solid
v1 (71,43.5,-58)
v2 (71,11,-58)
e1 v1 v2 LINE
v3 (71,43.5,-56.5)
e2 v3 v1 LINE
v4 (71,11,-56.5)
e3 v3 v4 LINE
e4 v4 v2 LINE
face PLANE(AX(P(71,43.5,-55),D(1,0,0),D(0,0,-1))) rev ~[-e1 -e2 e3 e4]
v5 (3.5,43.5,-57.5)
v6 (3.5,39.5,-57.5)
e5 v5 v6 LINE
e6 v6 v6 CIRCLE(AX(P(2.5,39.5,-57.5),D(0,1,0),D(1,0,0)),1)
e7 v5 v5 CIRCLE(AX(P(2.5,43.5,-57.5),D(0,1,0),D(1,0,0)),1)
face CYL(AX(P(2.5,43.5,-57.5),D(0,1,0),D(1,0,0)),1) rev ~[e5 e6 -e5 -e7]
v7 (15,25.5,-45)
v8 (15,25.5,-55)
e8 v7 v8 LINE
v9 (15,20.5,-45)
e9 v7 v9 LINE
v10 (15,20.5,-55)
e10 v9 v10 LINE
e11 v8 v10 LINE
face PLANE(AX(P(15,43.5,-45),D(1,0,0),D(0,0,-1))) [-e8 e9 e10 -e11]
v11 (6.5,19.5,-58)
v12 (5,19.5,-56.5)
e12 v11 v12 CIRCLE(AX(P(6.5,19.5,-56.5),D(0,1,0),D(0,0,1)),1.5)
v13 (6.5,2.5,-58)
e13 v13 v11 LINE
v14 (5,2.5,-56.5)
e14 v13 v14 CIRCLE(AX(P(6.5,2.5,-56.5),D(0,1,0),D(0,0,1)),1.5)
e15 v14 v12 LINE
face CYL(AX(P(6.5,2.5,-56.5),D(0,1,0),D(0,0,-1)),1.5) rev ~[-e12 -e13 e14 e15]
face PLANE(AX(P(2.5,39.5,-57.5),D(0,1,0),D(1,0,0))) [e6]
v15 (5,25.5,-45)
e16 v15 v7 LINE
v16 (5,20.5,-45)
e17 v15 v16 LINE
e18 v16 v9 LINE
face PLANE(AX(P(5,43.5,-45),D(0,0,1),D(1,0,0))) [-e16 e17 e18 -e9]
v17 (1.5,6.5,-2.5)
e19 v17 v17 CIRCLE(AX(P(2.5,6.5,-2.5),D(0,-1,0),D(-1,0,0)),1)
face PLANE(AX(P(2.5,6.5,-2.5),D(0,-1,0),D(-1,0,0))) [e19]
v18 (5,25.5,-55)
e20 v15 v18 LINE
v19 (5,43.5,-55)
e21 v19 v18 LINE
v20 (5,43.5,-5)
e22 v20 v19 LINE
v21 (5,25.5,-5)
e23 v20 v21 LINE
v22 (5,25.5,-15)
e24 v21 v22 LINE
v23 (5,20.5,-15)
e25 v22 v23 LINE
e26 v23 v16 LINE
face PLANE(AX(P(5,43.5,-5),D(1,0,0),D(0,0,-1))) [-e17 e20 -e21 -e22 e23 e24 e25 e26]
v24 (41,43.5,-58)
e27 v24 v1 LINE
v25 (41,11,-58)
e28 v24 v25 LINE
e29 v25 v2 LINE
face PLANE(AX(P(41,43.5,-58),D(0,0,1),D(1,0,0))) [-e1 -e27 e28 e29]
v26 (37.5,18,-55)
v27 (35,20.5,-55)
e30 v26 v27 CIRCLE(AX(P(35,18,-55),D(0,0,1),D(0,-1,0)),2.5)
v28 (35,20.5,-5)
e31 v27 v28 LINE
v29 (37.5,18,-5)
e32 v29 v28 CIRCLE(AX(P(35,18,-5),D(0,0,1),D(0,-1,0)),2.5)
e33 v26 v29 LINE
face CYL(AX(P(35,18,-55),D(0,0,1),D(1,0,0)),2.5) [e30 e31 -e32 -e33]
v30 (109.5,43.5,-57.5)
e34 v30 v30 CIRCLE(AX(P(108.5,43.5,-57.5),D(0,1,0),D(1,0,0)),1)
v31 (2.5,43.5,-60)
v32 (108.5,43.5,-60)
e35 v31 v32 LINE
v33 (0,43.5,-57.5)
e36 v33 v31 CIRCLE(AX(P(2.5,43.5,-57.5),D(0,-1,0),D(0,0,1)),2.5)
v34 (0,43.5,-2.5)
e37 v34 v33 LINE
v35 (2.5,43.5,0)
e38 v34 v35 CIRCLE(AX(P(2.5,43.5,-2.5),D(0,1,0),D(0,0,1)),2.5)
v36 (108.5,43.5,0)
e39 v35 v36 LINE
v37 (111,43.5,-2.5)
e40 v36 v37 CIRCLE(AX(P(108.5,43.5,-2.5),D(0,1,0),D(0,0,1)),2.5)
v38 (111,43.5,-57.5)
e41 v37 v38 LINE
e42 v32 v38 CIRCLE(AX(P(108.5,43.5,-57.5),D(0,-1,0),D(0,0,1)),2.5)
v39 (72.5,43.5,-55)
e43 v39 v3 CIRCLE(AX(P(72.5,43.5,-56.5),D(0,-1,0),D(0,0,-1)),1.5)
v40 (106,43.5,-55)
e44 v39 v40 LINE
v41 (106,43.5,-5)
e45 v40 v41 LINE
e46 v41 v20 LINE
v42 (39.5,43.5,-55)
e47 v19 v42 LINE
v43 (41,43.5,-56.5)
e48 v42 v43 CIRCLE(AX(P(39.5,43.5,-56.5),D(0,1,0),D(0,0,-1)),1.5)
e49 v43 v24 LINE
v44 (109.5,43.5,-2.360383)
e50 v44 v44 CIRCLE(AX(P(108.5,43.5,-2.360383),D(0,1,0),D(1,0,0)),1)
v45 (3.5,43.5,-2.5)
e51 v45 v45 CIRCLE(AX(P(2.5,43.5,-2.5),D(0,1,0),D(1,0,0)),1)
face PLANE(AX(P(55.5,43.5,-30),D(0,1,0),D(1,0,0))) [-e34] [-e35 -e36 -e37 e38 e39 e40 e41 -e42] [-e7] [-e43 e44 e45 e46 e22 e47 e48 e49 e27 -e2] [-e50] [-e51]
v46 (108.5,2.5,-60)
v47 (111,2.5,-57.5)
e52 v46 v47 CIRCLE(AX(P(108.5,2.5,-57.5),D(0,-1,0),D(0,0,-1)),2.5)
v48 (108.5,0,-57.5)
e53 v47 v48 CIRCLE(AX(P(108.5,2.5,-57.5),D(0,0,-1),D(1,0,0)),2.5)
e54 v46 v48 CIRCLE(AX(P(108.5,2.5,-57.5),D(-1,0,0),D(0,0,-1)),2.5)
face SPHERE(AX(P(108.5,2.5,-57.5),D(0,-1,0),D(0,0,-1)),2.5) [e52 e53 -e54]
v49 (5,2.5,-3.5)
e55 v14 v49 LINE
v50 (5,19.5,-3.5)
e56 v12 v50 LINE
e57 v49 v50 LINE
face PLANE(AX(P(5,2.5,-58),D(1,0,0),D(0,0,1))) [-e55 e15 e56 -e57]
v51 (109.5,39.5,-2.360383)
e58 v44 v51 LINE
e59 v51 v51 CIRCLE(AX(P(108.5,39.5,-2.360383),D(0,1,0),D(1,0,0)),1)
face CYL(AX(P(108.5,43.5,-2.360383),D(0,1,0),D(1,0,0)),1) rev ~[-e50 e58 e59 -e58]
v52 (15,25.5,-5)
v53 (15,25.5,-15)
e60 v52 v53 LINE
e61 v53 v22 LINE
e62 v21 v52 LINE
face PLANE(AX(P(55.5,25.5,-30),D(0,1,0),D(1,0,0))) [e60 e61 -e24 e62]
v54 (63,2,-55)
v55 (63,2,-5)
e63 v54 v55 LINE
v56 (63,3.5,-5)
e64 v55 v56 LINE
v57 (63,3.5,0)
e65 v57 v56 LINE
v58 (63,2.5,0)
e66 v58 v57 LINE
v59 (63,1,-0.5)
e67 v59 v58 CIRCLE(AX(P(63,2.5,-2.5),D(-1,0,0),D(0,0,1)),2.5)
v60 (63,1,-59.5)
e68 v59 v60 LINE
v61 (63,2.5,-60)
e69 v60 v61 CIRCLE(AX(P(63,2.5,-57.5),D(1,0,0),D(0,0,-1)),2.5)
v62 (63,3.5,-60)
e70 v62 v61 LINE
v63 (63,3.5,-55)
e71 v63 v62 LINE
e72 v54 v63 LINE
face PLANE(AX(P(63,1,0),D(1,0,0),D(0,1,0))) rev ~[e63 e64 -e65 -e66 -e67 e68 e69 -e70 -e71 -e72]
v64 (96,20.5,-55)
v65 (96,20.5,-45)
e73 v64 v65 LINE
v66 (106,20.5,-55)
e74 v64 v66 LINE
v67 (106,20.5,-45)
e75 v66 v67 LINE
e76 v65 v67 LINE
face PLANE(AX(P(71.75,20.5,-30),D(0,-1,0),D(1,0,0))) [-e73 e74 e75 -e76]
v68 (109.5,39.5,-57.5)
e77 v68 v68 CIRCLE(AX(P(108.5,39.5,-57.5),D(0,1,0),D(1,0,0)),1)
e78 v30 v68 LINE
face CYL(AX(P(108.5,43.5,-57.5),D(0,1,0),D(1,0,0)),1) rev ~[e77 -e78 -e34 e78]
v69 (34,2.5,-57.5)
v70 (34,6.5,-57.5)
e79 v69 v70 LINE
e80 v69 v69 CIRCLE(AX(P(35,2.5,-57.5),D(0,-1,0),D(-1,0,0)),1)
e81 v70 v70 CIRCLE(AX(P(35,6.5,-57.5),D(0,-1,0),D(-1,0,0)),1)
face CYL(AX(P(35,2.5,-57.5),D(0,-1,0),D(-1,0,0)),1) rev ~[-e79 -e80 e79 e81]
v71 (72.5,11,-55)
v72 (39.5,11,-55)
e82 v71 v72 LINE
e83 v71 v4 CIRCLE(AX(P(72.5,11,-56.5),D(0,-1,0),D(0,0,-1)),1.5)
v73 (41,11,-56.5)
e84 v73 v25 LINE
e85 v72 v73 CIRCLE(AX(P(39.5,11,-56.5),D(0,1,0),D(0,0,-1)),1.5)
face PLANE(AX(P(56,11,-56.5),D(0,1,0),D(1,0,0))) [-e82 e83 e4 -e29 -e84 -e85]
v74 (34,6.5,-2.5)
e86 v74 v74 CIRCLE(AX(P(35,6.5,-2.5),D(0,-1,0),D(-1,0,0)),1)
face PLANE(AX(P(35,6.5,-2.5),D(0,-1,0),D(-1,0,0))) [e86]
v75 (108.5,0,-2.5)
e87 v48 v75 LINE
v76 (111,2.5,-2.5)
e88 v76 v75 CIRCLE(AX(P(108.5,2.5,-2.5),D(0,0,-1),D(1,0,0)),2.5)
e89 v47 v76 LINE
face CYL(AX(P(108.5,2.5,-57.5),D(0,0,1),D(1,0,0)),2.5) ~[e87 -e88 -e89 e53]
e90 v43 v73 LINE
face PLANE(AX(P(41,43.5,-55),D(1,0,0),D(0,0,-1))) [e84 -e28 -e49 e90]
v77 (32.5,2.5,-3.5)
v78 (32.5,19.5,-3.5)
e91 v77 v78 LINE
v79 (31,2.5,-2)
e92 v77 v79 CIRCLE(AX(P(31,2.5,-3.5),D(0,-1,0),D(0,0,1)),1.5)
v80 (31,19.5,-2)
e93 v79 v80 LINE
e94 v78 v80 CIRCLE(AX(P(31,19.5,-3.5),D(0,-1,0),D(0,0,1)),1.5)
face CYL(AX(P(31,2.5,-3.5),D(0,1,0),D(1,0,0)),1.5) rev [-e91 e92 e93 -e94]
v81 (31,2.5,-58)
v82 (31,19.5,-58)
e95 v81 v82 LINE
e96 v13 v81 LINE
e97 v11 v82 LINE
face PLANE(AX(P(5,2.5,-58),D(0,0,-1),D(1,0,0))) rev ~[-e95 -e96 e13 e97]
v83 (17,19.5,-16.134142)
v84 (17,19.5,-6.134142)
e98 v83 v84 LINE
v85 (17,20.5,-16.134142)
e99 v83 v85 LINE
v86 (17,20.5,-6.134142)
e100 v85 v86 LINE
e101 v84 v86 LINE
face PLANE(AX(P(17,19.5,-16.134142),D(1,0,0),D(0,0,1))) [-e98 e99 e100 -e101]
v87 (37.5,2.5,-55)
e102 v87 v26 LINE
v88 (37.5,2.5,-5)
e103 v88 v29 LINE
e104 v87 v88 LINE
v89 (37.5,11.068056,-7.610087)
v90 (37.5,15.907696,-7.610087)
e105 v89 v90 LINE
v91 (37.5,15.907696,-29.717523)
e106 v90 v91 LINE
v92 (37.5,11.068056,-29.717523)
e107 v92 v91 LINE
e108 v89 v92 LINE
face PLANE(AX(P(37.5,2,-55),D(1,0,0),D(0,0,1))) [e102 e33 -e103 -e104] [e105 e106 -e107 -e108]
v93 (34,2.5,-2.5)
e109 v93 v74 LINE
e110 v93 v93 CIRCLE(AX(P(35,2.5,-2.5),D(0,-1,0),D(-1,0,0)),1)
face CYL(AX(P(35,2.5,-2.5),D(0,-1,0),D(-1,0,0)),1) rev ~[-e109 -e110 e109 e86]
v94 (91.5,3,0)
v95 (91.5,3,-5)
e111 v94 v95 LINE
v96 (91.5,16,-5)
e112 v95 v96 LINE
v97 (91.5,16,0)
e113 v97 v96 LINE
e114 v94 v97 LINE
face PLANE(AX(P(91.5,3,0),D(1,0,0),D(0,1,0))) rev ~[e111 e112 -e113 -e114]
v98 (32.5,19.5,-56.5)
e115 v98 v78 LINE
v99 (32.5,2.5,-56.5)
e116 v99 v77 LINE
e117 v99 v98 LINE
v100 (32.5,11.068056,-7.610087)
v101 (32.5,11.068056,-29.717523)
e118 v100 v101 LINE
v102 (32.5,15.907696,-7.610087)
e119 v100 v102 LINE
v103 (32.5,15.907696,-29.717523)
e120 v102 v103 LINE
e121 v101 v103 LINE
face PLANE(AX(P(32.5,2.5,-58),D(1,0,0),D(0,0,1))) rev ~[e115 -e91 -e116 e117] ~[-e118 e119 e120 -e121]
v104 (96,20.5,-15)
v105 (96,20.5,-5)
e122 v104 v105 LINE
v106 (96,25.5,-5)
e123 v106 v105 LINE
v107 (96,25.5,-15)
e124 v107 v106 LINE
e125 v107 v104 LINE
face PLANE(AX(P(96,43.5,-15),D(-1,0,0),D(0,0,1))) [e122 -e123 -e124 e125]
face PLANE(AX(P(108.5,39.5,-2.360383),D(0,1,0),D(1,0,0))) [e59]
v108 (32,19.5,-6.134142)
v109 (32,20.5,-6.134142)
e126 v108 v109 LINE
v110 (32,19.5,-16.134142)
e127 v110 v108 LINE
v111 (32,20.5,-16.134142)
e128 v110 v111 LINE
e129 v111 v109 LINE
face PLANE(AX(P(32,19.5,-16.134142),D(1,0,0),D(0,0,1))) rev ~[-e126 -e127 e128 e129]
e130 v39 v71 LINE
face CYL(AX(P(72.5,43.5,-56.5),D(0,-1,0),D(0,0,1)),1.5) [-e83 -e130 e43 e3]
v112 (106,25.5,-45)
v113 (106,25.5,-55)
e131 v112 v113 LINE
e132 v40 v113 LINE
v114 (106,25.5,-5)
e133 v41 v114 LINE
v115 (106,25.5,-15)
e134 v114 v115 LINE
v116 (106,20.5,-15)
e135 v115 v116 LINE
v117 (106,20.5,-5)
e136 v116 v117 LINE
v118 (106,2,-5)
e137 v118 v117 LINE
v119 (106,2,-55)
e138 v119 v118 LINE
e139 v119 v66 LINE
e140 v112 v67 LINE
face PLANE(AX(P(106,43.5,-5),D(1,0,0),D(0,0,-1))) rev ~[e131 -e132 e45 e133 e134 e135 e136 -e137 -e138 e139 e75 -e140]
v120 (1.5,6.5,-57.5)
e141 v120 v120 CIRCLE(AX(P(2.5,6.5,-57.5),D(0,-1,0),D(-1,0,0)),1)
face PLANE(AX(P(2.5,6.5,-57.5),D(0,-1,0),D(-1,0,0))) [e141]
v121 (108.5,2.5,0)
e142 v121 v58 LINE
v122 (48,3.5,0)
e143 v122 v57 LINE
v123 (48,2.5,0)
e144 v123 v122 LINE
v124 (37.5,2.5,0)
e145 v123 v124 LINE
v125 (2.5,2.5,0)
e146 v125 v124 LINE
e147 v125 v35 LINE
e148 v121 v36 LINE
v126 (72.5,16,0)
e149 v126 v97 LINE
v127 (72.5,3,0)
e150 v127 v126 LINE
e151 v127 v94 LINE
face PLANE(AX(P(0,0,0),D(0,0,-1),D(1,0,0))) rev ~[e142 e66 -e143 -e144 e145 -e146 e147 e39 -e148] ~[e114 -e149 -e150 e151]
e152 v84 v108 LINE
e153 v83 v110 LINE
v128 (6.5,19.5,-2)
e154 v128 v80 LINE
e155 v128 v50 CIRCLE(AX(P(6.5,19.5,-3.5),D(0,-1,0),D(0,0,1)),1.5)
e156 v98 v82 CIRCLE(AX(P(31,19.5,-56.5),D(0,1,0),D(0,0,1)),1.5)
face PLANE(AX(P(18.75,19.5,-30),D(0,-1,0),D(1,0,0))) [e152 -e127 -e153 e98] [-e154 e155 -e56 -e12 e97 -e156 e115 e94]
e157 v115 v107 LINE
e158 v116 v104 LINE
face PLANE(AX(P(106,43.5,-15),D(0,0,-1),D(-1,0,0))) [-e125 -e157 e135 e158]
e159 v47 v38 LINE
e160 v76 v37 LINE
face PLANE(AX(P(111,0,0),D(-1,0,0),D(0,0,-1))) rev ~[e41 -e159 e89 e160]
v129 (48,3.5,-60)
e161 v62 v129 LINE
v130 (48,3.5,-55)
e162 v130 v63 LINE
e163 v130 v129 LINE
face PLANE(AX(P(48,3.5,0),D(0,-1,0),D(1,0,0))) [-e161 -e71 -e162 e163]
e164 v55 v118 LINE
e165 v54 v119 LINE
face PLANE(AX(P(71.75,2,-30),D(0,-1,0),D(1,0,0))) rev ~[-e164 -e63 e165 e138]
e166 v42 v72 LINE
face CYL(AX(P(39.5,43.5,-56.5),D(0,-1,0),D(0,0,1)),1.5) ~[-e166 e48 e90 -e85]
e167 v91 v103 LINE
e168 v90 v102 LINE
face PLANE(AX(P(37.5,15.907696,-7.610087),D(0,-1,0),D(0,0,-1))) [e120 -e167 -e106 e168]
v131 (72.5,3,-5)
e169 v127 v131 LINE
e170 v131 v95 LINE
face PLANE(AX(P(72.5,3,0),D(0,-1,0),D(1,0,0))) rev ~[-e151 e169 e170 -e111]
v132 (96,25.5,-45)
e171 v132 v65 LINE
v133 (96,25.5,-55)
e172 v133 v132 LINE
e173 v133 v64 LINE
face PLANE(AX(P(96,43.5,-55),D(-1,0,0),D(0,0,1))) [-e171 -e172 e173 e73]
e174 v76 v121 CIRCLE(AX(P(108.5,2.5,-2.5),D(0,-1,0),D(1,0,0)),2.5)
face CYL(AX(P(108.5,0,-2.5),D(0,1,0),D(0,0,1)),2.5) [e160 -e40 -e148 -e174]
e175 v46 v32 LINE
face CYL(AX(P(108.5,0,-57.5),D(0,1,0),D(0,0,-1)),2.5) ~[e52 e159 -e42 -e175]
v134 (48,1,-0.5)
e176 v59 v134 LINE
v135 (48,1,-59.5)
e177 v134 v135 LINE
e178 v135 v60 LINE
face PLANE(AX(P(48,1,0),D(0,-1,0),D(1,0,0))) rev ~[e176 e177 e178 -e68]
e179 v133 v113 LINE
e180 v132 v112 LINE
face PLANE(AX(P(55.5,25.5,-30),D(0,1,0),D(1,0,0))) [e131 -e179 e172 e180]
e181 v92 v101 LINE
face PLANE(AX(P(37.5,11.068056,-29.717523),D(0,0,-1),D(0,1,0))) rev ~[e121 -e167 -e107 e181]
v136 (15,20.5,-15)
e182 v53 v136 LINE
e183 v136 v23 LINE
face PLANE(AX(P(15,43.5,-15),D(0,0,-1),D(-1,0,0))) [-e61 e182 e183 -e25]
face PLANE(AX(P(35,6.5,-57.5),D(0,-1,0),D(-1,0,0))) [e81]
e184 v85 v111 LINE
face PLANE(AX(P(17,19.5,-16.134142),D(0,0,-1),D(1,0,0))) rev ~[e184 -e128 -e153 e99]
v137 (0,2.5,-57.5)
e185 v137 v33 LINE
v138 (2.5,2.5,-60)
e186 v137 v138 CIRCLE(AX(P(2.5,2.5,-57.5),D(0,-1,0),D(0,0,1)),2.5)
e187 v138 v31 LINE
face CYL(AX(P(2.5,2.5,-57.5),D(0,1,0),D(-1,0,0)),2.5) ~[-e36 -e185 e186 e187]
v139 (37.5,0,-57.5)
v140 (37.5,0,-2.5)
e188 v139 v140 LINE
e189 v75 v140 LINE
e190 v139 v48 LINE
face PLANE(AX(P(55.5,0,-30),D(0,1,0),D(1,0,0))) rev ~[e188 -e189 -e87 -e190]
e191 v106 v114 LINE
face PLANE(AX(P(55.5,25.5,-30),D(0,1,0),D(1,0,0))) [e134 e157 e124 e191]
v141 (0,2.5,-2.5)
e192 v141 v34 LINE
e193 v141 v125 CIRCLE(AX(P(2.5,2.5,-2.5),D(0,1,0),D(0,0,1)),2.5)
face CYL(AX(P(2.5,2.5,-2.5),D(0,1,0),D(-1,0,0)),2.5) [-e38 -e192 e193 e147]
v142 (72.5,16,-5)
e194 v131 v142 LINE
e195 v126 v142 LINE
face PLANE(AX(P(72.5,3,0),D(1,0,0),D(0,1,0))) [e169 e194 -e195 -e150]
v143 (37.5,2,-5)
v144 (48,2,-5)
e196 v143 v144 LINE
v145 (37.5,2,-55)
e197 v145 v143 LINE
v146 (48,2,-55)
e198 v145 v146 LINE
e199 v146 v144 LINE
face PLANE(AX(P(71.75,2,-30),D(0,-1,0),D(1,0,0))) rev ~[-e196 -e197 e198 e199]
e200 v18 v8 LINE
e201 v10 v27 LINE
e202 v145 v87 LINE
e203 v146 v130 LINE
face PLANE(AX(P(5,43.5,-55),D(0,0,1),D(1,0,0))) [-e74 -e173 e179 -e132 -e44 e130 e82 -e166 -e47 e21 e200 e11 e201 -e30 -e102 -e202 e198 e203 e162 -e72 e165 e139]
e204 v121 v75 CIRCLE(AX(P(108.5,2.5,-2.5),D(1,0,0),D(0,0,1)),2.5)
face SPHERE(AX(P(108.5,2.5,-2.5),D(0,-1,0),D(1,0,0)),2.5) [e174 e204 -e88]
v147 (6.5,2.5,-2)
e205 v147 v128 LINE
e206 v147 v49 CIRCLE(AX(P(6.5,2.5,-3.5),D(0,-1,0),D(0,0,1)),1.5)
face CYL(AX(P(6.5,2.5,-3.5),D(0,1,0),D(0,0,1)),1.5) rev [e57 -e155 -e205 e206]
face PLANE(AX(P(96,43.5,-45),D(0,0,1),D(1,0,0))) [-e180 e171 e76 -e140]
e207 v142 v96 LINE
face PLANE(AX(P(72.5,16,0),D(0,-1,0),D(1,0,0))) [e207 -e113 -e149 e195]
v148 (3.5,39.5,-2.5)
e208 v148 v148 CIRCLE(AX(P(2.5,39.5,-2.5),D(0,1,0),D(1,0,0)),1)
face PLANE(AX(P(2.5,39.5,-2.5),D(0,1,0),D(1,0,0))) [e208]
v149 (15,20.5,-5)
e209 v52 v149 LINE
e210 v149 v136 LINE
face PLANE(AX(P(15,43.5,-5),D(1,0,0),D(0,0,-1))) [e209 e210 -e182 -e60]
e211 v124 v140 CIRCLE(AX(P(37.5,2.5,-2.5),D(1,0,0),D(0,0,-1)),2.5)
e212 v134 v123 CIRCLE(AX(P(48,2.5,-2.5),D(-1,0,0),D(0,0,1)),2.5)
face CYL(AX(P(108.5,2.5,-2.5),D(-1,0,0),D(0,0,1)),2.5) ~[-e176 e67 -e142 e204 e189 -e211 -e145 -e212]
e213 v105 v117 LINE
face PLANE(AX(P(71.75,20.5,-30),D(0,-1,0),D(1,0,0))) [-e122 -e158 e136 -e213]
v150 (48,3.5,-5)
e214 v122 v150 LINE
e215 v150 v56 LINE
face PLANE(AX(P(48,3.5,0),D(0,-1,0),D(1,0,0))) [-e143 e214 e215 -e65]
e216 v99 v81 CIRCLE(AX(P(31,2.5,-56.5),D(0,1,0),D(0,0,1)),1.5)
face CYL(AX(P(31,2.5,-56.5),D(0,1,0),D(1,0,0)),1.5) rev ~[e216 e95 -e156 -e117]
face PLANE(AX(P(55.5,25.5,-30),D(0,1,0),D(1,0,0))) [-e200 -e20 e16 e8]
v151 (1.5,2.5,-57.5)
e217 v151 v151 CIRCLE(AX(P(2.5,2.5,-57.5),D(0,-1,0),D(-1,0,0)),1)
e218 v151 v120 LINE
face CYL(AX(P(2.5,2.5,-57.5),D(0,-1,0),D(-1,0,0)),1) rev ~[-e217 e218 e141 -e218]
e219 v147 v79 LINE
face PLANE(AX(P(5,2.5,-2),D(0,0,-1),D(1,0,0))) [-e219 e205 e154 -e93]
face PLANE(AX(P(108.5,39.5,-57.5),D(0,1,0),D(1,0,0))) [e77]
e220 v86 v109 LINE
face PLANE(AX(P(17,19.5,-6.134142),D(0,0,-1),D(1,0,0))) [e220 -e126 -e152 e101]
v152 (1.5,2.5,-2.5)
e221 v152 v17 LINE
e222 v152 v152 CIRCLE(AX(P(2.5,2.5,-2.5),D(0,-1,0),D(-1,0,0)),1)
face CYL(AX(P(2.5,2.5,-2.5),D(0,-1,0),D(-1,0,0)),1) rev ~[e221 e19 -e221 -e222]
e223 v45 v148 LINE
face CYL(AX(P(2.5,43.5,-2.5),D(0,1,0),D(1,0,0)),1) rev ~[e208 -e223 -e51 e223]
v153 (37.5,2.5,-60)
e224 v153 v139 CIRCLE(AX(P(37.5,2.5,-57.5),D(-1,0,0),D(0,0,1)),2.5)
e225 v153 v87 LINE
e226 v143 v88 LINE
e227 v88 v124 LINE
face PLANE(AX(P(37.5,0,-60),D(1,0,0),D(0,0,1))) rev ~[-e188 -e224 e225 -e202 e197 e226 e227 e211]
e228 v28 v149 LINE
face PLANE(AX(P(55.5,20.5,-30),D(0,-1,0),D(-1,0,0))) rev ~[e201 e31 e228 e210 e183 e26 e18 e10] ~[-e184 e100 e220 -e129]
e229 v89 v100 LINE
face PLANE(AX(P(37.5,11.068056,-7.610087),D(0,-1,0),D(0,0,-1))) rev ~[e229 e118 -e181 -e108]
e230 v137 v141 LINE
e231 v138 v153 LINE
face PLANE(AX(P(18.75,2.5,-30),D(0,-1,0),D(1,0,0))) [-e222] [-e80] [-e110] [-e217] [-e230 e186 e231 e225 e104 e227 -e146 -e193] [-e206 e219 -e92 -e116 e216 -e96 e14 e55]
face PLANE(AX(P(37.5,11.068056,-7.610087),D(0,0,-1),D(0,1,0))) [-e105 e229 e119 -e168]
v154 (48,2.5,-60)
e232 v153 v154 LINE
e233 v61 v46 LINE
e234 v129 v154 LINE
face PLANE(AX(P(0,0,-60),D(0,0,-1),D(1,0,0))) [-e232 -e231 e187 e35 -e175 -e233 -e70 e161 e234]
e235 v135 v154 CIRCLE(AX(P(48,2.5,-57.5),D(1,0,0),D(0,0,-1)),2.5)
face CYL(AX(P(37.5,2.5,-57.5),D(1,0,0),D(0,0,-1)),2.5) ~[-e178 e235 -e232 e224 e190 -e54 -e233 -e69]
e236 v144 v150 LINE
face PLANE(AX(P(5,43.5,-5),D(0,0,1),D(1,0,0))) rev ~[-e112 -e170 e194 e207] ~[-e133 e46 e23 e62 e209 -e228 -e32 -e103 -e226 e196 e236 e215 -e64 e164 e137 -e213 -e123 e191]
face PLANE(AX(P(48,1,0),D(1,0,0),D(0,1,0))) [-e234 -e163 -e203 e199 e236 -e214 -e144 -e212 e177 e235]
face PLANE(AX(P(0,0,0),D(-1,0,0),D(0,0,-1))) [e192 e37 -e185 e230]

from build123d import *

# Parameters (mm, degrees)
SKETCH1_W           = 111
SKETCH1_H           = 60
BOSS_EXTRUDE1_DEPTH = 43.5
SKETCH2_W           = 101
SKETCH2_H           = 50
CUT_EXTRUDE1_DEPTH  = 18
CUT_EXTRUDE3_DEPTH  = 23
CUT_EXTRUDE5_START  = -2
SKETCH5_W           = 68.5
SKETCH5_H           = 50
CUT_EXTRUDE5_DEPTH  = 18.5
SKETCH6_W           = 37.5
SKETCH6_H           = 60
CUT_EXTRUDE6_DEPTH  = 2.5
SKETCH7_R           = 1
CUT_EXTRUDE7_DEPTH  = 4
SKETCH8_R           = 1
CUT_EXTRUDE8_DEPTH  = 4
SKETCH9_W           = 19
SKETCH9_H           = 13
CUT_EXTRUDE9_DEPTH  = 10
SKETCH12_W          = 30
SKETCH12_H          = 3
CUT_EXTRUDE12_DEPTH = 32.5
FILLET2_R           = 2.5
FILLET3_R           = 2.5
FILLET4_R           = 2.5
FILLET5_R           = 2.5
FILLET6_R           = 2.5
SKETCH13_W          = 27.5
SKETCH13_H          = 56
CUT_EXTRUDE13_DEPTH = 17
SKETCH14_W          = 15
SKETCH14_H          = 10
CUT_EXTRUDE14_DEPTH = 25
FILLET7_R           = 1.5
FILLET8_R           = 1.5
FILLET9_R           = 1.5
FILLET10_R          = 1.5
FILLET11_R          = 2.5
FILLET12_R          = 1.5
SKETCH15_W          = 22.107435613
SKETCH15_H          = 4.839639835
CUT_EXTRUDE15_DEPTH = 10
SKETCH16_W          = 15
SKETCH16_H          = 2.5
CUT_EXTRUDE16_DEPTH = 61


with BuildPart() as part:
    # Sketch1 → Boss-Extrude1 (new body)
    with BuildSketch(Plane(origin=(0, 0, 0), x_dir=(1, 0, 0), z_dir=(0, 1, 0))):
        with Locations((55.5, 30)):
            Rectangle(SKETCH1_W, SKETCH1_H)
    extrude(amount=BOSS_EXTRUDE1_DEPTH)

    # Sketch2 → Cut-Extrude1 (cut)
    with BuildSketch(Plane(origin=(0, 43.5, 0), x_dir=(1, 0, 0), z_dir=(0, 1, 0))):
        with Locations((55.5, 30)):
            Rectangle(SKETCH2_W, SKETCH2_H)
    extrude(amount=-CUT_EXTRUDE1_DEPTH, mode=Mode.SUBTRACT)

    # Sketch3 → Cut-Extrude3 (cut)
    with BuildSketch(Plane(origin=(0, 43.5, 0), x_dir=(1, 0, 0), z_dir=(0, 1, 0))):
        Polygon((5, 45), (15, 45), (15, 55), (96, 55), (96, 45), (106, 45), (106, 15), (96, 15), (96, 5), (15, 5), (15, 15), (5, 15), align=None)
    extrude(amount=-CUT_EXTRUDE3_DEPTH, mode=Mode.SUBTRACT)

    # Sketch5 → Cut-Extrude5 (cut)
    with BuildSketch(Plane.XZ.offset(CUT_EXTRUDE5_START)):
        with Locations((71.75, -30)):
            Rectangle(SKETCH5_W, SKETCH5_H)
    extrude(amount=-CUT_EXTRUDE5_DEPTH, mode=Mode.SUBTRACT)

    # Sketch6 → Cut-Extrude6 (cut)
    with BuildSketch(Plane.XZ):
        with Locations((18.75, -30)):
            Rectangle(SKETCH6_W, SKETCH6_H)
    extrude(amount=-CUT_EXTRUDE6_DEPTH, mode=Mode.SUBTRACT)

    # Sketch7 → Cut-Extrude7 (cut)
    with BuildSketch(Plane(origin=(0, 2.5, 0), x_dir=(-1, 0, 0), z_dir=(0, -1, 0))):
        with Locations((-2.5, 57.5)):
            Circle(SKETCH7_R)
        with Locations((-35, 57.5)):
            Circle(SKETCH7_R)
        with Locations((-35, 2.5)):
            Circle(SKETCH7_R)
        with Locations((-2.5, 2.5)):
            Circle(SKETCH7_R)
    extrude(amount=-CUT_EXTRUDE7_DEPTH, mode=Mode.SUBTRACT)

    # Sketch8 → Cut-Extrude8 (cut)
    with BuildSketch(Plane(origin=(0, 43.5, 0), x_dir=(1, 0, 0), z_dir=(0, 1, 0))):
        with Locations((2.5, 57.5)):
            Circle(SKETCH8_R)
        with Locations((108.5, 57.5)):
            Circle(SKETCH8_R)
        with Locations((108.5, 2.360383006)):
            Circle(SKETCH8_R)
        with Locations((2.5, 2.5)):
            Circle(SKETCH8_R)
    extrude(amount=-CUT_EXTRUDE8_DEPTH, mode=Mode.SUBTRACT)

    # Sketch9 → Cut-Extrude9 (cut)
    with BuildSketch(Plane.XY):
        with Locations((82, 9.5)):
            Rectangle(SKETCH9_W, SKETCH9_H)
    extrude(amount=-CUT_EXTRUDE9_DEPTH, mode=Mode.SUBTRACT)

    # Sketch12 → Cut-Extrude12 (cut)
    with BuildSketch(Plane(origin=(0, 43.5, 0), x_dir=(1, 0, 0), z_dir=(0, 1, 0))):
        with Locations((56, 56.5)):
            Rectangle(SKETCH12_W, SKETCH12_H)
    extrude(amount=-CUT_EXTRUDE12_DEPTH, mode=Mode.SUBTRACT)

    # Fillet2
    fillet2_edges = [part.edges().sort_by_distance(p)[0] for p in [
        (0, 23, 0),
    ]]
    fillet(fillet2_edges, radius=FILLET2_R)

    # Fillet3
    fillet3_edges = [part.edges().sort_by_distance(p)[0] for p in [
        (111, 21.75, 0),
    ]]
    fillet(fillet3_edges, radius=FILLET3_R)

    # Fillet4
    fillet4_edges = [part.edges().sort_by_distance(p)[0] for p in [
        (0, 23, -60),
    ]]
    fillet(fillet4_edges, radius=FILLET4_R)

    # Fillet5
    fillet5_edges = [part.edges().sort_by_distance(p)[0] for p in [
        (111, 21.75, -60),
    ]]
    fillet(fillet5_edges, radius=FILLET5_R)

    # Fillet6
    fillet6_edges = [part.edges().sort_by_distance(p)[0] for p in [
        (73, 0, -60),
        (110.267766953, 0, -59.267766953),
        (111, 0, -30),
        (110.267766953, 0, -0.732233047),
        (73, 0, 0),
    ]]
    fillet(fillet6_edges, radius=FILLET6_R)

    # Sketch13 → Cut-Extrude13 (cut)
    with BuildSketch(Plane.XZ.offset(-2.5)):
        with Locations((18.75, -30)):
            Rectangle(SKETCH13_W, SKETCH13_H)
    extrude(amount=-CUT_EXTRUDE13_DEPTH, mode=Mode.SUBTRACT)

    # Sketch14 → Cut-Extrude14 (cut, through all)
    with BuildSketch(Plane.XZ.offset(-19.5)):
        with Locations((24.5, -11.134142308)):
            Rectangle(SKETCH14_W, SKETCH14_H)
    extrude(amount=-CUT_EXTRUDE14_DEPTH, mode=Mode.SUBTRACT)

    # Fillet7
    fillet7_edges = [part.edges().sort_by_distance(p)[0] for p in [
        (32.5, 11, -2),
    ]]
    fillet(fillet7_edges, radius=FILLET7_R)

    # Fillet8
    fillet8_edges = [part.edges().sort_by_distance(p)[0] for p in [
        (5, 11, -2),
    ]]
    fillet(fillet8_edges, radius=FILLET8_R)

    # Fillet9
    fillet9_edges = [part.edges().sort_by_distance(p)[0] for p in [
        (32.5, 11, -58),
    ]]
    fillet(fillet9_edges, radius=FILLET9_R)

    # Fillet10
    fillet10_edges = [part.edges().sort_by_distance(p)[0] for p in [
        (5, 11, -58),
    ]]
    fillet(fillet10_edges, radius=FILLET10_R)

    # Fillet11
    fillet11_edges = [part.edges().sort_by_distance(p)[0] for p in [
        (37.5, 20.5, -30),
    ]]
    fillet(fillet11_edges, radius=FILLET11_R)

    # Fillet12
    fillet12_edges = [part.edges().sort_by_distance(p)[0] for p in [
        (71, 27.25, -55),
        (41, 27.25, -55),
    ]]
    fillet(fillet12_edges, radius=FILLET12_R)

    # Sketch15 → Cut-Extrude15 (cut)
    with BuildSketch(Plane(origin=(37.5, 0, 0), x_dir=(0, 0, -1), z_dir=(1, 0, 0))):
        with Locations((18.663805006, 13.487875839)):
            Rectangle(SKETCH15_W, SKETCH15_H)
    extrude(amount=-CUT_EXTRUDE15_DEPTH, mode=Mode.SUBTRACT)

    # Sketch16 → Cut-Extrude16 (cut, through all)
    with BuildSketch(Plane.XY):
        with Locations((55.5, 2.25)):
            Rectangle(SKETCH16_W, SKETCH16_H)
    extrude(amount=-CUT_EXTRUDE16_DEPTH, mode=Mode.SUBTRACT)


solid = part.part
